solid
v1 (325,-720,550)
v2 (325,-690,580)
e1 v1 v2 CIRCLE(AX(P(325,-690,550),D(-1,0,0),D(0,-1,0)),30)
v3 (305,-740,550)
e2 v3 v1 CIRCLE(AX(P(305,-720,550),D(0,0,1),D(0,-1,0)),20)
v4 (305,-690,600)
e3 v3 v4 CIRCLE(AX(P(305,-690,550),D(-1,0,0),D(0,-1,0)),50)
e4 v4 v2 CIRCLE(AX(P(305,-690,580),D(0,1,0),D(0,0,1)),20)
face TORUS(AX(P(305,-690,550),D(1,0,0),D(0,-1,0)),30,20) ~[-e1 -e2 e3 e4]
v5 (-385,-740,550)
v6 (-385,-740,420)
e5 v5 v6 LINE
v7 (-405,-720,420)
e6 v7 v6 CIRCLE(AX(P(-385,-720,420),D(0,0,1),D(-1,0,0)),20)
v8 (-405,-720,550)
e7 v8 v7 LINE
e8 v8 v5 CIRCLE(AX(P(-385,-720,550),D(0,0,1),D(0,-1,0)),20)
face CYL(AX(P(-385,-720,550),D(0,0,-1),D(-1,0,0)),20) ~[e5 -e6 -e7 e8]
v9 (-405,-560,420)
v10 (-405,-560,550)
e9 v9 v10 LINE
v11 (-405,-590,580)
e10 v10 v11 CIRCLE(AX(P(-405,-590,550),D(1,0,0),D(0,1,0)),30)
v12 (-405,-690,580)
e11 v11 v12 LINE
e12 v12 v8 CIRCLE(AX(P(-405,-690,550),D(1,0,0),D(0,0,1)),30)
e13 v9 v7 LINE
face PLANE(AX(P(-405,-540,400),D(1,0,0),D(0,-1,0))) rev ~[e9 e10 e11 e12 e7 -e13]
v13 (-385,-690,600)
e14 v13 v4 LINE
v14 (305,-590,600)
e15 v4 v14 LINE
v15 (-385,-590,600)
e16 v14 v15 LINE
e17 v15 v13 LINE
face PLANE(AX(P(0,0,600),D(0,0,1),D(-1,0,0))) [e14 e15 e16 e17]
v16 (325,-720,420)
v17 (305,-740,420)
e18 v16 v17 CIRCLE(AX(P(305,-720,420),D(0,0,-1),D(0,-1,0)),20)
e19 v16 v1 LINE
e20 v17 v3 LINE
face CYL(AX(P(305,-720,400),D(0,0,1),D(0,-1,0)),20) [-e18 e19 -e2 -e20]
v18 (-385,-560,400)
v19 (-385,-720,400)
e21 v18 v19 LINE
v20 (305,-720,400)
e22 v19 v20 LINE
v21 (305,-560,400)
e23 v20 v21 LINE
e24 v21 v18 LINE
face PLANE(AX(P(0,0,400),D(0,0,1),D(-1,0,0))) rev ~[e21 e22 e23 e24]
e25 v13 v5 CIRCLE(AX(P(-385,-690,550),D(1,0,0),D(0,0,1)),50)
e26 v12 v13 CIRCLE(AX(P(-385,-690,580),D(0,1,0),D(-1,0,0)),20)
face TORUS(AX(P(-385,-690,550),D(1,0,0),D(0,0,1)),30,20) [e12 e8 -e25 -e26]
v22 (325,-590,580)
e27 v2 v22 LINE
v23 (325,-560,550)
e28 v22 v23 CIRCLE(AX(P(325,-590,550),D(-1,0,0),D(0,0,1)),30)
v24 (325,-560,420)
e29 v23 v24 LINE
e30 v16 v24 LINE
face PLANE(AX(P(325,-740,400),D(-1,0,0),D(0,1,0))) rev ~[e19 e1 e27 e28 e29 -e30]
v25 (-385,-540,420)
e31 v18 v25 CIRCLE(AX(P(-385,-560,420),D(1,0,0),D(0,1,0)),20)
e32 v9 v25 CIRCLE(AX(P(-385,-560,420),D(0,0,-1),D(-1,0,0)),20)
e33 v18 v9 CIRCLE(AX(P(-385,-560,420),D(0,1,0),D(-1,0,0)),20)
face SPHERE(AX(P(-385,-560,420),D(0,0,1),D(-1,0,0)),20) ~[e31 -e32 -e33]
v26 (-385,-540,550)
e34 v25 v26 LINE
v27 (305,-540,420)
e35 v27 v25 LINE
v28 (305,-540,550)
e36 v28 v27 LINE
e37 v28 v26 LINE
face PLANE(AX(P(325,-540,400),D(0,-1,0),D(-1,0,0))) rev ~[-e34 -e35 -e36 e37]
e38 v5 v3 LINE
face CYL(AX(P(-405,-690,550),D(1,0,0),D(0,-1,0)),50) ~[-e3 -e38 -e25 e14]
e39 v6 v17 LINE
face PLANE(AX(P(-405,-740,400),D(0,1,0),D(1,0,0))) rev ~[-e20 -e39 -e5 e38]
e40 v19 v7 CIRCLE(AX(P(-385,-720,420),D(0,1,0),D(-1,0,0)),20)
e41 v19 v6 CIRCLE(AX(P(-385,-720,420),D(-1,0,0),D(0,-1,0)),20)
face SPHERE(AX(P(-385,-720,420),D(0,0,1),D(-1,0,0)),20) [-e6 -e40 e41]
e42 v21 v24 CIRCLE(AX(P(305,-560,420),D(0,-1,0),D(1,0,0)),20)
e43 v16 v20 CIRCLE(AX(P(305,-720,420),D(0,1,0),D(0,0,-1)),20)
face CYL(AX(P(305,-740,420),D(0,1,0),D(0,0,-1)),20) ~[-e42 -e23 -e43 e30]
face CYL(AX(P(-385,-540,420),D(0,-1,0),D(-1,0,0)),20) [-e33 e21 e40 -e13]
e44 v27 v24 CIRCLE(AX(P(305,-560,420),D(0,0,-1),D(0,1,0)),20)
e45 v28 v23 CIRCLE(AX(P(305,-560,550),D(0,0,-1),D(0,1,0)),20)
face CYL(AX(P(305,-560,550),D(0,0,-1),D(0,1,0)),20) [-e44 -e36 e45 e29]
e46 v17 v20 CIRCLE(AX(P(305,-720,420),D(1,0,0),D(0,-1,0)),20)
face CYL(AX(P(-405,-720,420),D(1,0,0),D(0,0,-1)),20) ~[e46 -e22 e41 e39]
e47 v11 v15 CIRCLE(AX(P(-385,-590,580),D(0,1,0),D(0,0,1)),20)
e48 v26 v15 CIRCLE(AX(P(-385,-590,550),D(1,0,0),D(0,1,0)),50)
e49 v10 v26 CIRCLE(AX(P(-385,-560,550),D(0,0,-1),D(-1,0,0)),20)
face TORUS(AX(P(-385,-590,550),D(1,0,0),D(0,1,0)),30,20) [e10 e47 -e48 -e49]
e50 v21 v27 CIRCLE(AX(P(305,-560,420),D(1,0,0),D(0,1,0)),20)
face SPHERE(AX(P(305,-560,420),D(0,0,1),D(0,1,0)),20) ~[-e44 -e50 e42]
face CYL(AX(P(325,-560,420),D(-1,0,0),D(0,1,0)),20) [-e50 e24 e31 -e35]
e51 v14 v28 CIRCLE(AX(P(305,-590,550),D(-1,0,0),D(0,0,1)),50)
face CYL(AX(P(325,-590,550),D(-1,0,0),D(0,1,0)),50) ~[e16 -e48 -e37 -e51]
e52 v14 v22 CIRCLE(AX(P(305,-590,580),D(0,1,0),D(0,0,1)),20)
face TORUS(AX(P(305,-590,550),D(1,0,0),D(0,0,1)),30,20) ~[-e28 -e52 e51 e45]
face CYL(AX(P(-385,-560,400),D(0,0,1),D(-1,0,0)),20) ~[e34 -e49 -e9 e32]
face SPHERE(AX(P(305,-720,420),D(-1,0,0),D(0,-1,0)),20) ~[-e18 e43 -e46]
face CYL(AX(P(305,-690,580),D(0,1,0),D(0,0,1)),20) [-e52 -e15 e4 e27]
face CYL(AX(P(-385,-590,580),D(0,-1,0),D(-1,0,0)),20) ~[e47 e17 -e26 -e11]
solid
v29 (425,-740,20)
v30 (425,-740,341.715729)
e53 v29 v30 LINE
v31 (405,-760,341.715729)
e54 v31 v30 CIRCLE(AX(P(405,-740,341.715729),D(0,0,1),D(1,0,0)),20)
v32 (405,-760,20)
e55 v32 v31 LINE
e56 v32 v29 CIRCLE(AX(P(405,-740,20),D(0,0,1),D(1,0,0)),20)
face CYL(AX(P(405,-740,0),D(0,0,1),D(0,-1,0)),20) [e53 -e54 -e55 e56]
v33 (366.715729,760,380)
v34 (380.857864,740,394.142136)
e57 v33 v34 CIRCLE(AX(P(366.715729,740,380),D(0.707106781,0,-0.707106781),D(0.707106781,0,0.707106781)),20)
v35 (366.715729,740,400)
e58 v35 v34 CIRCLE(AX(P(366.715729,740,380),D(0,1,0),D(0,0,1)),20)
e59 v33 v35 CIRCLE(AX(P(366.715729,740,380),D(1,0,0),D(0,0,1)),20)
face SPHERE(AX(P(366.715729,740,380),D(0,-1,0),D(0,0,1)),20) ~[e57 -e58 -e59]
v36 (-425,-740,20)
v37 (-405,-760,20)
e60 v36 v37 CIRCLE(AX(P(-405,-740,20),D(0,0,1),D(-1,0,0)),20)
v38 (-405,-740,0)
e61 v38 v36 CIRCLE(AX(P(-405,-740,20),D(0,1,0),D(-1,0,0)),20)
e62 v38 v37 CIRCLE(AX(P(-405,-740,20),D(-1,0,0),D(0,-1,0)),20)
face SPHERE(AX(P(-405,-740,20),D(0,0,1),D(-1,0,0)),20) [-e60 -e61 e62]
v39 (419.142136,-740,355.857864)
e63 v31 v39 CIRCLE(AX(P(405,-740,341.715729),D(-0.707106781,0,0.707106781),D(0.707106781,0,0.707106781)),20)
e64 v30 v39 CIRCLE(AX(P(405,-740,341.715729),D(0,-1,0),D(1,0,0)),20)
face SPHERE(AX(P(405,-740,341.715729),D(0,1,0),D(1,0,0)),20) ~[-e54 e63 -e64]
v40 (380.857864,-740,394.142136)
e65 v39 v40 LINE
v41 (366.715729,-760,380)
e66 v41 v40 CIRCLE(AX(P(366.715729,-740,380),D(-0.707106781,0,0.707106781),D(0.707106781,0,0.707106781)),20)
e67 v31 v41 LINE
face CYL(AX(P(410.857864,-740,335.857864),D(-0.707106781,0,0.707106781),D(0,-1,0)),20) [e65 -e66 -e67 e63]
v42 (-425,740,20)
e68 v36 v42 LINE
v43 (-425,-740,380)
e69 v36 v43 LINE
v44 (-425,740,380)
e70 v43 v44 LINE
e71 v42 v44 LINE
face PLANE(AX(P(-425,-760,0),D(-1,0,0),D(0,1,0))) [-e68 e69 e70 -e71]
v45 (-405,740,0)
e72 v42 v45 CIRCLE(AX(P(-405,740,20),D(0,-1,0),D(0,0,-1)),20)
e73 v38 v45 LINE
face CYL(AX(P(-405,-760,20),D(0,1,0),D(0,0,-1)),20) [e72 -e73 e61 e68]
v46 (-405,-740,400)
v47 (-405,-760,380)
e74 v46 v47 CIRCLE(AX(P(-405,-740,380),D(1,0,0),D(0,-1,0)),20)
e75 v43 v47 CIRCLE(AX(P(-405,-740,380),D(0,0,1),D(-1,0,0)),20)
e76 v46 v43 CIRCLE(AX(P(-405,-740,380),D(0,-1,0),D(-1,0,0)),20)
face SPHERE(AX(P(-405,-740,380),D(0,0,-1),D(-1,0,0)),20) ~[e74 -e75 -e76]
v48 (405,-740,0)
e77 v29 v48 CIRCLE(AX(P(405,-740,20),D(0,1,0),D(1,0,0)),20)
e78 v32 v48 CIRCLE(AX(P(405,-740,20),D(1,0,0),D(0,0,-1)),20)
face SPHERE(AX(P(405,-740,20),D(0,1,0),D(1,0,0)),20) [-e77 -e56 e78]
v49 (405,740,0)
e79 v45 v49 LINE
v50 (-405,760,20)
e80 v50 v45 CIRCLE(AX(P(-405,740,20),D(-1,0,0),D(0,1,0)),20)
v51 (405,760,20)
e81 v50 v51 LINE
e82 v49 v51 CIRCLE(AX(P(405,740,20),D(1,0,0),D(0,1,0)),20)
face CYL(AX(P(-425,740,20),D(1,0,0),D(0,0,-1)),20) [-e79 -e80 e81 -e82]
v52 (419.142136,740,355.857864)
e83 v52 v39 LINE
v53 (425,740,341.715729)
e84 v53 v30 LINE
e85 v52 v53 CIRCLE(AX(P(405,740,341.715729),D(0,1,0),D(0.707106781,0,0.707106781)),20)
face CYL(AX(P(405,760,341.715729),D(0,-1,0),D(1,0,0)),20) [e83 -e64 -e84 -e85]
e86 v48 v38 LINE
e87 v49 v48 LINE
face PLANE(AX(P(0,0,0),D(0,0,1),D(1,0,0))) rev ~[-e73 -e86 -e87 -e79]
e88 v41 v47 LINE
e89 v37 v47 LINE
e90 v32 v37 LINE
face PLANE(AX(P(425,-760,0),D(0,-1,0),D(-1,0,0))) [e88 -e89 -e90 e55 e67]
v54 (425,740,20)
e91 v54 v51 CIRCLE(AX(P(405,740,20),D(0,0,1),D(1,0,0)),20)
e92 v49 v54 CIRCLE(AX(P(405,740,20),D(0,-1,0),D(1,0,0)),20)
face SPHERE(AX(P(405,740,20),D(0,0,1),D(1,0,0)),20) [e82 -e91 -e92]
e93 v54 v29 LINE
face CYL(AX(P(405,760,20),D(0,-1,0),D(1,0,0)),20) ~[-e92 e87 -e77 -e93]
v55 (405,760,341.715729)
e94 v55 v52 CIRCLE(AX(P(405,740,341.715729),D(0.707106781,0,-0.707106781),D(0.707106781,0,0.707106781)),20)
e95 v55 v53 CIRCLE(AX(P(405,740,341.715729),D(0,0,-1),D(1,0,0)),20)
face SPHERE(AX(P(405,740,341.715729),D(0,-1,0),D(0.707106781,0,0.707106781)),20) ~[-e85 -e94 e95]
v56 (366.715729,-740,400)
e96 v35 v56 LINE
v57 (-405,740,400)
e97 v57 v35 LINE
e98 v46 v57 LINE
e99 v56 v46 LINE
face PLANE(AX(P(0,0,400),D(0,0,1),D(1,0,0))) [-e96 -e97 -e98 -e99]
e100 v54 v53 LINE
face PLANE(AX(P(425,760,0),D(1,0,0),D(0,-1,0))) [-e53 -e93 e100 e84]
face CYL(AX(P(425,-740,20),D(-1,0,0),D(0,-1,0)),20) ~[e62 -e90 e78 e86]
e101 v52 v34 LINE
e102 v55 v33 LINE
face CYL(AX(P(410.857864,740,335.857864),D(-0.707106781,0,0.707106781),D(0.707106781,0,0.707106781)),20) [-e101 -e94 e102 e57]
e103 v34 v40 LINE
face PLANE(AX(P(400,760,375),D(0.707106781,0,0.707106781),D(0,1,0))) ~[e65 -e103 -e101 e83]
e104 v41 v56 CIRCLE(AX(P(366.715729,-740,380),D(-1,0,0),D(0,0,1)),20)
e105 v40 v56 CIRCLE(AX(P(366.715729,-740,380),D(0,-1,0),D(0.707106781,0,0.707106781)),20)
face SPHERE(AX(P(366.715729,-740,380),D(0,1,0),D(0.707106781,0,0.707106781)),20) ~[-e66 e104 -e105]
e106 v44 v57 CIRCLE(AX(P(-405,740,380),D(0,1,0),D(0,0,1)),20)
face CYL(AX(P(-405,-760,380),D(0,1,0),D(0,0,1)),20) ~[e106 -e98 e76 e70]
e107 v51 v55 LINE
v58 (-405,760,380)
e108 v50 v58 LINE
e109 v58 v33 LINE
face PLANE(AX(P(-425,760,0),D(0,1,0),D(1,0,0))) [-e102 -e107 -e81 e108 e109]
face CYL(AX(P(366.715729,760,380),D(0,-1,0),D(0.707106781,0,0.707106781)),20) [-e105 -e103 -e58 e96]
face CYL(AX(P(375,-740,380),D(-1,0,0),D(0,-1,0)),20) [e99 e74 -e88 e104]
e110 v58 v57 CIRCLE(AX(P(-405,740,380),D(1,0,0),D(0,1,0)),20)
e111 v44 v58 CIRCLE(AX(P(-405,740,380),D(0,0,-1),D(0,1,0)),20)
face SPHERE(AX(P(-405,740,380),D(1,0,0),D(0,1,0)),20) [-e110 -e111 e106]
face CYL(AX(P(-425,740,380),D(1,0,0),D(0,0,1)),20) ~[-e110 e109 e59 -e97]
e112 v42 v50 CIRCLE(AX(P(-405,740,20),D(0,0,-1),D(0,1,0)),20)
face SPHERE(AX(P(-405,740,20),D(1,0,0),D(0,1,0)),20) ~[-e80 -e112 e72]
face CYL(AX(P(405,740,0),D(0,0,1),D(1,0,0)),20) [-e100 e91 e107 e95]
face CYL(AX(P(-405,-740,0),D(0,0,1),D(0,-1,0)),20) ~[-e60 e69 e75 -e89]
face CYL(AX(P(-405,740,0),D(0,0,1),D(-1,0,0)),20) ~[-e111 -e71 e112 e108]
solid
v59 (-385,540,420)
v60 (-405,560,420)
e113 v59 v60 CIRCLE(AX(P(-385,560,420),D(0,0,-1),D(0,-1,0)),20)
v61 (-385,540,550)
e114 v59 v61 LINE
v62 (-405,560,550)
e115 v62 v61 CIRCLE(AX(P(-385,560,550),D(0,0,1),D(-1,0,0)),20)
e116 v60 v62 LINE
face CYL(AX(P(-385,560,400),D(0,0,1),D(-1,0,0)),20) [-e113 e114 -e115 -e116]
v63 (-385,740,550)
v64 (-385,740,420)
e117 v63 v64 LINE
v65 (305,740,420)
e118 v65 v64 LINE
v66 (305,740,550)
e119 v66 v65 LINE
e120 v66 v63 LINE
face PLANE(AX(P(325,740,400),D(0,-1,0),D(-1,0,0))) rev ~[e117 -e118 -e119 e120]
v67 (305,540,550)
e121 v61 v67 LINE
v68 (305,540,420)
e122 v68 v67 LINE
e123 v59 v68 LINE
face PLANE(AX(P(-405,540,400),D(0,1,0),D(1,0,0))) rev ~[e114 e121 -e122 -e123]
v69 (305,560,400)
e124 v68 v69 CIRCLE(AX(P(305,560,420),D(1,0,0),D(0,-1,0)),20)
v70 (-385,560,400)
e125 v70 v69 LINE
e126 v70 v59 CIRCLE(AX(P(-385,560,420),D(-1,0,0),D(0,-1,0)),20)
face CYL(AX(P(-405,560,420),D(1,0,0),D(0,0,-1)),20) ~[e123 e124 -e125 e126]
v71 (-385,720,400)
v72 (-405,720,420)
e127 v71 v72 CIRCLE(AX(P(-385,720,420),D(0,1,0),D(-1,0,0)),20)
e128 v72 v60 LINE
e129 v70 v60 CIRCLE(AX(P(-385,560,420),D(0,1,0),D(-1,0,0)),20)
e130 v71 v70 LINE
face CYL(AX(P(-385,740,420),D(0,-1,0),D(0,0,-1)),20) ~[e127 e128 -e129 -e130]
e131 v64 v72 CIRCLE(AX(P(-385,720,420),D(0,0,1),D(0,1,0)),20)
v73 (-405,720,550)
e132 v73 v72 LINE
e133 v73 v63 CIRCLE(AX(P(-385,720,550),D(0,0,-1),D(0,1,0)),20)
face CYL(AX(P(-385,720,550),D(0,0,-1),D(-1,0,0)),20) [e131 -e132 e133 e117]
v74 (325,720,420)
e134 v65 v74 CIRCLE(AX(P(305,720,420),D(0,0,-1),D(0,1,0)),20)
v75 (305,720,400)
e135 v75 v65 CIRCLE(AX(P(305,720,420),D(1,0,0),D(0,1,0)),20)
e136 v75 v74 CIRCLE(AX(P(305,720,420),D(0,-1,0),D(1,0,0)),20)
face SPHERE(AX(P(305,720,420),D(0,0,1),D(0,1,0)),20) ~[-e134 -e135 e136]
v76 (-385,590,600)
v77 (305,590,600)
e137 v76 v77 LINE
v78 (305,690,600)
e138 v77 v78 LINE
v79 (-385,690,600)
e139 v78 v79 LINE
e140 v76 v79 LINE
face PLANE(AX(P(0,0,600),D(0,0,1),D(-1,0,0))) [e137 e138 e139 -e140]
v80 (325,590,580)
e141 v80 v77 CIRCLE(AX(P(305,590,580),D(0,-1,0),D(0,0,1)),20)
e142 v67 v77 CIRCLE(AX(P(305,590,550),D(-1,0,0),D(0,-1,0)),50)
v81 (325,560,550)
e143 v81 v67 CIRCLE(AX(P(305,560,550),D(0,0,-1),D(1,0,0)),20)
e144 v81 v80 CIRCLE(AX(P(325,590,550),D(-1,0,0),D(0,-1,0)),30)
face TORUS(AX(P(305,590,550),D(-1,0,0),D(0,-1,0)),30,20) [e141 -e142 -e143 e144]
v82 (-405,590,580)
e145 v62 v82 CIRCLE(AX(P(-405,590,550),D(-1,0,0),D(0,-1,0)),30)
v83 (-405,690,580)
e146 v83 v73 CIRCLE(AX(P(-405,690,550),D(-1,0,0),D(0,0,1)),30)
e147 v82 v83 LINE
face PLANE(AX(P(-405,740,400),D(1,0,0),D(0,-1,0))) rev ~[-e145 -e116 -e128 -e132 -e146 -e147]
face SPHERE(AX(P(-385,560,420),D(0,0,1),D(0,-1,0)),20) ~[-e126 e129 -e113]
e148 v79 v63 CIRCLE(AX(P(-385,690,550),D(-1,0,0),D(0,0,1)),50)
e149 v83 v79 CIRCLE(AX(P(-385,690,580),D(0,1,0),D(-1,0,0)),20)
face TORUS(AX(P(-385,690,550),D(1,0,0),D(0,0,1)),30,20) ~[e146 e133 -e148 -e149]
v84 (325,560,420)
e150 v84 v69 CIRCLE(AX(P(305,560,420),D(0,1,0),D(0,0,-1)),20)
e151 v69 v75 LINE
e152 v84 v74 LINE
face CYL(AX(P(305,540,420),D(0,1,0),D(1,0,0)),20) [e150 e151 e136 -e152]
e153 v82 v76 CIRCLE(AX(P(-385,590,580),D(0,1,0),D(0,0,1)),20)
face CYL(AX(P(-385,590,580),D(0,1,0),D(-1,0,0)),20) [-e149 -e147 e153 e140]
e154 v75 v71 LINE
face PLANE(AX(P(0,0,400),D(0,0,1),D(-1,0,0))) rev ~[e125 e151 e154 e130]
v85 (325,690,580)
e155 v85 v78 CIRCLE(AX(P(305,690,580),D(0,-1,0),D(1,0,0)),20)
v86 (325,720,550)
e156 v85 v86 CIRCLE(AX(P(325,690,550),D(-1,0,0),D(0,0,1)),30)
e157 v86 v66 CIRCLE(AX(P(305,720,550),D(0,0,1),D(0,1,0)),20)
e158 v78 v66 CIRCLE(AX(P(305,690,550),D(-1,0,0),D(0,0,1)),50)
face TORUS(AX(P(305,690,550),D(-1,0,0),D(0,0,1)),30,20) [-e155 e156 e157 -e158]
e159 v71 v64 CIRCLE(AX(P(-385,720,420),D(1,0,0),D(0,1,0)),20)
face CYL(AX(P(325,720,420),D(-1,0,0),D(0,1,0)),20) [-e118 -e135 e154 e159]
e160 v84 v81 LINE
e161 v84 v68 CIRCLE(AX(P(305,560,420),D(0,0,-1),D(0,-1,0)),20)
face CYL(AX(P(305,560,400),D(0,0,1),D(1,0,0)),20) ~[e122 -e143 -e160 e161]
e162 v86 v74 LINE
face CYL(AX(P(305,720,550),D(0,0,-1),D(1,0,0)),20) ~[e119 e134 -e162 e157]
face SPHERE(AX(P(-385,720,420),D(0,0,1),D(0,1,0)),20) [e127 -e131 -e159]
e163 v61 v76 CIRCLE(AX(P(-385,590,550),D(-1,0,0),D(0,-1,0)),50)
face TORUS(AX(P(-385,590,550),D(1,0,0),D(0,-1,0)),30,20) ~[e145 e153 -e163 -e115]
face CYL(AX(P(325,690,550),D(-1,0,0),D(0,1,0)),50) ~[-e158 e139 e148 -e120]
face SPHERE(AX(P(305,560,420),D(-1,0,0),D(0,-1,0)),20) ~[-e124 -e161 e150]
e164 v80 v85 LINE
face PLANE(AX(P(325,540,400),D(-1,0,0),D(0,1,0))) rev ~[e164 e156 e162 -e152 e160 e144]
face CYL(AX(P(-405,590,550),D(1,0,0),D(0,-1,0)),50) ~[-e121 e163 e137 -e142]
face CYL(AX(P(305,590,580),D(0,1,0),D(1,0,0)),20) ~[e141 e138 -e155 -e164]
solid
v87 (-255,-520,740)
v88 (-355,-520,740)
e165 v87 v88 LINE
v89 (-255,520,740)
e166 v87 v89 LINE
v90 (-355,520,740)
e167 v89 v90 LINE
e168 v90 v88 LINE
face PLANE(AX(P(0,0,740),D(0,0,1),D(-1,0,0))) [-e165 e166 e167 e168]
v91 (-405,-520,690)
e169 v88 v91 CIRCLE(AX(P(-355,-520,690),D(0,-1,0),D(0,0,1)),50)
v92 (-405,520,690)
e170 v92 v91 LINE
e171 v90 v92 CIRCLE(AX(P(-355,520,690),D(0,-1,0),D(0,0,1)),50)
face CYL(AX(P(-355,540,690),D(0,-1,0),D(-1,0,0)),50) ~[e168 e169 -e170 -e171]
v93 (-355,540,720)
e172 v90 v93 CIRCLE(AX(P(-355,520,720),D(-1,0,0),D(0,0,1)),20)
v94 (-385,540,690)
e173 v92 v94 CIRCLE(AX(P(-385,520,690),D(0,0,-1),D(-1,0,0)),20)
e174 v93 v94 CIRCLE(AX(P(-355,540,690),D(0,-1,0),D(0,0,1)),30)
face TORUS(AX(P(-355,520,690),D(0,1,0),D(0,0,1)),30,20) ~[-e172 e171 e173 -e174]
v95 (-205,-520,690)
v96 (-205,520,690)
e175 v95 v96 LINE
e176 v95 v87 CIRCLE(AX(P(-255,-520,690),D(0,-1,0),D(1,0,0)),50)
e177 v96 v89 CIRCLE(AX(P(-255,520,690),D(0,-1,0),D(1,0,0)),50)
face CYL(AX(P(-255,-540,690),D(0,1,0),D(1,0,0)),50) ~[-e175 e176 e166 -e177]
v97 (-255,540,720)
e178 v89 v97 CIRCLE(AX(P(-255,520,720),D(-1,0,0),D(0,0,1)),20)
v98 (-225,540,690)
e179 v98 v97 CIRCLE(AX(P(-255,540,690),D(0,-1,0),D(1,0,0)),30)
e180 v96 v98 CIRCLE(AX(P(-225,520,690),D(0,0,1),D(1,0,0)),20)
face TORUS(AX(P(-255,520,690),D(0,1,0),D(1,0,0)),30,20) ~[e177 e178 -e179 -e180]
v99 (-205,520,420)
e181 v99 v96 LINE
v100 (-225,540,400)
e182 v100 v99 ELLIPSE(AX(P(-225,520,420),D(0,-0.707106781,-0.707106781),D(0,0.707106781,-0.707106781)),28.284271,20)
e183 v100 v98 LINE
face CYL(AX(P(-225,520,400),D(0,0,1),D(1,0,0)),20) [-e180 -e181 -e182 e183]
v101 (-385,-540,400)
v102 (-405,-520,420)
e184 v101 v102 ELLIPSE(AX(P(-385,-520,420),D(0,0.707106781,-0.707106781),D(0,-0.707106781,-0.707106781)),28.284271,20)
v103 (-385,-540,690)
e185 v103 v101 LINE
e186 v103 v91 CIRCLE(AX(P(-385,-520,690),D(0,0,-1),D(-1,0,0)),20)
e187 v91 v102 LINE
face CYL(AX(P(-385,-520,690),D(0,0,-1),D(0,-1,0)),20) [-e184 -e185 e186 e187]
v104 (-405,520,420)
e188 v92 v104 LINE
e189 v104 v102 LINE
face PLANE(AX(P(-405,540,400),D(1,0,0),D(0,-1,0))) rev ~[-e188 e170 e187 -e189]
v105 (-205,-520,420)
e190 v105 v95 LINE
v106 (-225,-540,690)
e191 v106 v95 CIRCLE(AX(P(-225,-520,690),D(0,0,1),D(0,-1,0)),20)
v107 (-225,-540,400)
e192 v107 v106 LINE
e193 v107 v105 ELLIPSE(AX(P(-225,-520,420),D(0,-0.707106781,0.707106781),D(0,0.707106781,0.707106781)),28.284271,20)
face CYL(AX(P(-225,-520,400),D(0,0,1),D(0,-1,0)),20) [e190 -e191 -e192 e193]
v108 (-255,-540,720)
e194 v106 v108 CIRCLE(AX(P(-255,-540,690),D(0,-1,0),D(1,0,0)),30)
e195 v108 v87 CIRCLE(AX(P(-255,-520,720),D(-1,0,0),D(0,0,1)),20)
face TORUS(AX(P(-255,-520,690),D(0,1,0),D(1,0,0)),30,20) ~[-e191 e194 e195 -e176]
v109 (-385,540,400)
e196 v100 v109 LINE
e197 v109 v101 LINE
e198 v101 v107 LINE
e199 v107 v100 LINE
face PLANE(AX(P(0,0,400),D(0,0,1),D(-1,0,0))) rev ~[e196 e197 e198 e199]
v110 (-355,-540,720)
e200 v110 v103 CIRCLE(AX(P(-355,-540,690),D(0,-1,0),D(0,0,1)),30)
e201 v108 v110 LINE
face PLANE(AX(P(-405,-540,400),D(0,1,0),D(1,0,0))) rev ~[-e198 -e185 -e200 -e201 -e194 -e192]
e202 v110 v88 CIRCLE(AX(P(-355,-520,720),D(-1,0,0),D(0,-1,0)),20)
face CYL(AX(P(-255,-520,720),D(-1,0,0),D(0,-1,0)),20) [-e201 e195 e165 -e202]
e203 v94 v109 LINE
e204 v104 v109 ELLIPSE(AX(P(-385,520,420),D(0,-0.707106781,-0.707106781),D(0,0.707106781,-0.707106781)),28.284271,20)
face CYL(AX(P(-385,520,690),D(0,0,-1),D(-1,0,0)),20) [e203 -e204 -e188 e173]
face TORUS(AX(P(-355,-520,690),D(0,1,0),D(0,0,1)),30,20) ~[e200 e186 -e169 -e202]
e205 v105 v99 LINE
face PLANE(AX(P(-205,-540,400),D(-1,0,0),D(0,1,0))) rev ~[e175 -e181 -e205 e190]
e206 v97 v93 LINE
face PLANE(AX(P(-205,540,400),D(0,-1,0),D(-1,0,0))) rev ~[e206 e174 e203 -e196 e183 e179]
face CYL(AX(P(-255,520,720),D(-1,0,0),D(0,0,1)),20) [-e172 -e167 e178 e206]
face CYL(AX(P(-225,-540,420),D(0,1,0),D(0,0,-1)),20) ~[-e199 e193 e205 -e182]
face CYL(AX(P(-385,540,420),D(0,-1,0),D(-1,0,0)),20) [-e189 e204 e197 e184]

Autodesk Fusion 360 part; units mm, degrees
sketch "Sketch1" plane through (0, 0, 0) normal (0, 0, 1) x (1, 0, 0)
  line L0 (425, -760) -> (-425, -760)
  line L1 (-425, -760) -> (-425, 760)
  line L2 (-425, 760) -> (425, 760)
  line L3 (425, 760) -> (425, -760)
  line L4 (425, -760) -> (-425, 760) construction
  line L5 (-425, -760) -> (425, 760) construction
  line L6 (-405, -740) -> (325, -740)
  line L7 (325, -740) -> (325, -540)
  line L8 (325, -540) -> (-405, -540)
  line L9 (-405, -540) -> (-405, -740)
  line L10 (-405, -540) -> (-205, -540)
  line L11 (-205, -540) -> (-205, 540)
  line L12 (-205, 540) -> (-405, 540)
  line L13 (-405, 540) -> (-405, -540)
  line L14 (-405, 540) -> (325, 540)
  line L15 (325, 540) -> (325, 740)
  line L16 (325, 740) -> (-405, 740)
  line L17 (-405, 740) -> (-405, 540)
  dimension "d1" = 1520
  dimension "d2" = 850
  dimension "d3" = 20
  dimension "d4" = 20
  dimension "d5" = 20
  dimension "d6" = 200
  dimension "d7" = 200
  dimension "d8" = 100
extrude "Extrude1" add sketch "Sketch1" along normal blind 400 contours L0 L1 L2 L3 | L6 L7 L8 L9 L10 | L8 L10 L11 L12 L13 L14 | L12 L14 L15 L16 L17 makes body 1
sketch "Sketch2" plane through (0, 0, 400) normal (0, 0, 1) x (-1, 0, 0)
  line L0 (-425, -760) -> (425, -760)
  line L1 (425, -760) -> (425, 760)
  line L2 (425, 760) -> (-425, 760)
  line L3 (-425, 760) -> (-425, -760)
  line L4 (405, 740) -> (-325, 740)
  line L5 (-325, 540) -> (405, 540)
  line L6 (405, 540) -> (405, 740)
  line L7 (-325, 740) -> (-325, 540)
  line L8 (405, -740) -> (405, -540)
  line L9 (405, -540) -> (-325, -540)
  line L10 (-325, -740) -> (405, -740)
  line L11 (-325, -540) -> (-325, -740)
extrude "Extrude2" add sketch "Sketch2" along normal blind 200 separate body contours L4 L5 L6 L7 | L8 L9 L10 L11 makes body 2 at (81.6667, -540, 466.6667) makes body 3 at (-161.6667, 540, 466.6667)
sketch "Sketch3" plane through (0, 0, 400) normal (0, 0, 1) x (-1, 0, 0)
  line L0 (-425, -760) -> (425, -760)
  line L1 (425, -760) -> (425, 760)
  line L2 (425, 760) -> (-425, 760)
  line L3 (-425, 760) -> (-425, -760)
  line L4 (205, 540) -> (205, -540)
  line L5 (205, -540) -> (405, -540)
  line L6 (405, 540) -> (205, 540)
  line L7 (405, -540) -> (405, 540)
extrude "Extrude3" add sketch "Sketch3" along normal blind 340 separate body contours L4 L5 L6 L7 makes body 4
chamfer "Chamfer2" distance 50 angle 45 1 edges at (425, 0, 400) on bodies 1
fillet "Fillet2" radius 20 7 faces at (425, 253.3333, 116.6667) (391.6667, 253.3333, 383.3333) (125, 760, 133.3333) (-425, -253.3333, 133.3333) (125, -760, 133.3333) (-141.6667, 253.3333, 0) (-158.3333, 253.3333, 400) on bodies 1
fillet "Fillet3" radius 50 6 edges at (-40, -740, 600) (-40, -540, 600) (-40, 540, 600) (-40, 740, 600) (-205, 0, 740) (-405, 0, 740) on bodies 2 3 4
fillet "Fillet4" radius 20 21 faces at (-405, -606.6667, 450) (-161.6667, -740, 450) (-161.6667, -692.3791, 599.9434) (81.6667, -656.6667, 600) (81.6667, -587.6209, 599.9434) (81.6667, -540, 450) (325, -673.3333, 450) (-161.6667, 540, 450) (-161.6667, 585.2472, 599.7736) (81.6667, 623.3333, 600) (81.6667, 692.3791, 599.9434) (81.6667, 740, 450) (325, 606.6667, 450) (-405, 673.3333, 450) (-205, -180, 593.3333) (-220.496, -180, 726.1867) (-288.3333, 180, 740) (-366.7879, 180, 738.5906) (-405, 180, 593.3333) (-271.6667, 540, 496.6667) (-338.3333, -540, 496.6667) on bodies 2 3 4
